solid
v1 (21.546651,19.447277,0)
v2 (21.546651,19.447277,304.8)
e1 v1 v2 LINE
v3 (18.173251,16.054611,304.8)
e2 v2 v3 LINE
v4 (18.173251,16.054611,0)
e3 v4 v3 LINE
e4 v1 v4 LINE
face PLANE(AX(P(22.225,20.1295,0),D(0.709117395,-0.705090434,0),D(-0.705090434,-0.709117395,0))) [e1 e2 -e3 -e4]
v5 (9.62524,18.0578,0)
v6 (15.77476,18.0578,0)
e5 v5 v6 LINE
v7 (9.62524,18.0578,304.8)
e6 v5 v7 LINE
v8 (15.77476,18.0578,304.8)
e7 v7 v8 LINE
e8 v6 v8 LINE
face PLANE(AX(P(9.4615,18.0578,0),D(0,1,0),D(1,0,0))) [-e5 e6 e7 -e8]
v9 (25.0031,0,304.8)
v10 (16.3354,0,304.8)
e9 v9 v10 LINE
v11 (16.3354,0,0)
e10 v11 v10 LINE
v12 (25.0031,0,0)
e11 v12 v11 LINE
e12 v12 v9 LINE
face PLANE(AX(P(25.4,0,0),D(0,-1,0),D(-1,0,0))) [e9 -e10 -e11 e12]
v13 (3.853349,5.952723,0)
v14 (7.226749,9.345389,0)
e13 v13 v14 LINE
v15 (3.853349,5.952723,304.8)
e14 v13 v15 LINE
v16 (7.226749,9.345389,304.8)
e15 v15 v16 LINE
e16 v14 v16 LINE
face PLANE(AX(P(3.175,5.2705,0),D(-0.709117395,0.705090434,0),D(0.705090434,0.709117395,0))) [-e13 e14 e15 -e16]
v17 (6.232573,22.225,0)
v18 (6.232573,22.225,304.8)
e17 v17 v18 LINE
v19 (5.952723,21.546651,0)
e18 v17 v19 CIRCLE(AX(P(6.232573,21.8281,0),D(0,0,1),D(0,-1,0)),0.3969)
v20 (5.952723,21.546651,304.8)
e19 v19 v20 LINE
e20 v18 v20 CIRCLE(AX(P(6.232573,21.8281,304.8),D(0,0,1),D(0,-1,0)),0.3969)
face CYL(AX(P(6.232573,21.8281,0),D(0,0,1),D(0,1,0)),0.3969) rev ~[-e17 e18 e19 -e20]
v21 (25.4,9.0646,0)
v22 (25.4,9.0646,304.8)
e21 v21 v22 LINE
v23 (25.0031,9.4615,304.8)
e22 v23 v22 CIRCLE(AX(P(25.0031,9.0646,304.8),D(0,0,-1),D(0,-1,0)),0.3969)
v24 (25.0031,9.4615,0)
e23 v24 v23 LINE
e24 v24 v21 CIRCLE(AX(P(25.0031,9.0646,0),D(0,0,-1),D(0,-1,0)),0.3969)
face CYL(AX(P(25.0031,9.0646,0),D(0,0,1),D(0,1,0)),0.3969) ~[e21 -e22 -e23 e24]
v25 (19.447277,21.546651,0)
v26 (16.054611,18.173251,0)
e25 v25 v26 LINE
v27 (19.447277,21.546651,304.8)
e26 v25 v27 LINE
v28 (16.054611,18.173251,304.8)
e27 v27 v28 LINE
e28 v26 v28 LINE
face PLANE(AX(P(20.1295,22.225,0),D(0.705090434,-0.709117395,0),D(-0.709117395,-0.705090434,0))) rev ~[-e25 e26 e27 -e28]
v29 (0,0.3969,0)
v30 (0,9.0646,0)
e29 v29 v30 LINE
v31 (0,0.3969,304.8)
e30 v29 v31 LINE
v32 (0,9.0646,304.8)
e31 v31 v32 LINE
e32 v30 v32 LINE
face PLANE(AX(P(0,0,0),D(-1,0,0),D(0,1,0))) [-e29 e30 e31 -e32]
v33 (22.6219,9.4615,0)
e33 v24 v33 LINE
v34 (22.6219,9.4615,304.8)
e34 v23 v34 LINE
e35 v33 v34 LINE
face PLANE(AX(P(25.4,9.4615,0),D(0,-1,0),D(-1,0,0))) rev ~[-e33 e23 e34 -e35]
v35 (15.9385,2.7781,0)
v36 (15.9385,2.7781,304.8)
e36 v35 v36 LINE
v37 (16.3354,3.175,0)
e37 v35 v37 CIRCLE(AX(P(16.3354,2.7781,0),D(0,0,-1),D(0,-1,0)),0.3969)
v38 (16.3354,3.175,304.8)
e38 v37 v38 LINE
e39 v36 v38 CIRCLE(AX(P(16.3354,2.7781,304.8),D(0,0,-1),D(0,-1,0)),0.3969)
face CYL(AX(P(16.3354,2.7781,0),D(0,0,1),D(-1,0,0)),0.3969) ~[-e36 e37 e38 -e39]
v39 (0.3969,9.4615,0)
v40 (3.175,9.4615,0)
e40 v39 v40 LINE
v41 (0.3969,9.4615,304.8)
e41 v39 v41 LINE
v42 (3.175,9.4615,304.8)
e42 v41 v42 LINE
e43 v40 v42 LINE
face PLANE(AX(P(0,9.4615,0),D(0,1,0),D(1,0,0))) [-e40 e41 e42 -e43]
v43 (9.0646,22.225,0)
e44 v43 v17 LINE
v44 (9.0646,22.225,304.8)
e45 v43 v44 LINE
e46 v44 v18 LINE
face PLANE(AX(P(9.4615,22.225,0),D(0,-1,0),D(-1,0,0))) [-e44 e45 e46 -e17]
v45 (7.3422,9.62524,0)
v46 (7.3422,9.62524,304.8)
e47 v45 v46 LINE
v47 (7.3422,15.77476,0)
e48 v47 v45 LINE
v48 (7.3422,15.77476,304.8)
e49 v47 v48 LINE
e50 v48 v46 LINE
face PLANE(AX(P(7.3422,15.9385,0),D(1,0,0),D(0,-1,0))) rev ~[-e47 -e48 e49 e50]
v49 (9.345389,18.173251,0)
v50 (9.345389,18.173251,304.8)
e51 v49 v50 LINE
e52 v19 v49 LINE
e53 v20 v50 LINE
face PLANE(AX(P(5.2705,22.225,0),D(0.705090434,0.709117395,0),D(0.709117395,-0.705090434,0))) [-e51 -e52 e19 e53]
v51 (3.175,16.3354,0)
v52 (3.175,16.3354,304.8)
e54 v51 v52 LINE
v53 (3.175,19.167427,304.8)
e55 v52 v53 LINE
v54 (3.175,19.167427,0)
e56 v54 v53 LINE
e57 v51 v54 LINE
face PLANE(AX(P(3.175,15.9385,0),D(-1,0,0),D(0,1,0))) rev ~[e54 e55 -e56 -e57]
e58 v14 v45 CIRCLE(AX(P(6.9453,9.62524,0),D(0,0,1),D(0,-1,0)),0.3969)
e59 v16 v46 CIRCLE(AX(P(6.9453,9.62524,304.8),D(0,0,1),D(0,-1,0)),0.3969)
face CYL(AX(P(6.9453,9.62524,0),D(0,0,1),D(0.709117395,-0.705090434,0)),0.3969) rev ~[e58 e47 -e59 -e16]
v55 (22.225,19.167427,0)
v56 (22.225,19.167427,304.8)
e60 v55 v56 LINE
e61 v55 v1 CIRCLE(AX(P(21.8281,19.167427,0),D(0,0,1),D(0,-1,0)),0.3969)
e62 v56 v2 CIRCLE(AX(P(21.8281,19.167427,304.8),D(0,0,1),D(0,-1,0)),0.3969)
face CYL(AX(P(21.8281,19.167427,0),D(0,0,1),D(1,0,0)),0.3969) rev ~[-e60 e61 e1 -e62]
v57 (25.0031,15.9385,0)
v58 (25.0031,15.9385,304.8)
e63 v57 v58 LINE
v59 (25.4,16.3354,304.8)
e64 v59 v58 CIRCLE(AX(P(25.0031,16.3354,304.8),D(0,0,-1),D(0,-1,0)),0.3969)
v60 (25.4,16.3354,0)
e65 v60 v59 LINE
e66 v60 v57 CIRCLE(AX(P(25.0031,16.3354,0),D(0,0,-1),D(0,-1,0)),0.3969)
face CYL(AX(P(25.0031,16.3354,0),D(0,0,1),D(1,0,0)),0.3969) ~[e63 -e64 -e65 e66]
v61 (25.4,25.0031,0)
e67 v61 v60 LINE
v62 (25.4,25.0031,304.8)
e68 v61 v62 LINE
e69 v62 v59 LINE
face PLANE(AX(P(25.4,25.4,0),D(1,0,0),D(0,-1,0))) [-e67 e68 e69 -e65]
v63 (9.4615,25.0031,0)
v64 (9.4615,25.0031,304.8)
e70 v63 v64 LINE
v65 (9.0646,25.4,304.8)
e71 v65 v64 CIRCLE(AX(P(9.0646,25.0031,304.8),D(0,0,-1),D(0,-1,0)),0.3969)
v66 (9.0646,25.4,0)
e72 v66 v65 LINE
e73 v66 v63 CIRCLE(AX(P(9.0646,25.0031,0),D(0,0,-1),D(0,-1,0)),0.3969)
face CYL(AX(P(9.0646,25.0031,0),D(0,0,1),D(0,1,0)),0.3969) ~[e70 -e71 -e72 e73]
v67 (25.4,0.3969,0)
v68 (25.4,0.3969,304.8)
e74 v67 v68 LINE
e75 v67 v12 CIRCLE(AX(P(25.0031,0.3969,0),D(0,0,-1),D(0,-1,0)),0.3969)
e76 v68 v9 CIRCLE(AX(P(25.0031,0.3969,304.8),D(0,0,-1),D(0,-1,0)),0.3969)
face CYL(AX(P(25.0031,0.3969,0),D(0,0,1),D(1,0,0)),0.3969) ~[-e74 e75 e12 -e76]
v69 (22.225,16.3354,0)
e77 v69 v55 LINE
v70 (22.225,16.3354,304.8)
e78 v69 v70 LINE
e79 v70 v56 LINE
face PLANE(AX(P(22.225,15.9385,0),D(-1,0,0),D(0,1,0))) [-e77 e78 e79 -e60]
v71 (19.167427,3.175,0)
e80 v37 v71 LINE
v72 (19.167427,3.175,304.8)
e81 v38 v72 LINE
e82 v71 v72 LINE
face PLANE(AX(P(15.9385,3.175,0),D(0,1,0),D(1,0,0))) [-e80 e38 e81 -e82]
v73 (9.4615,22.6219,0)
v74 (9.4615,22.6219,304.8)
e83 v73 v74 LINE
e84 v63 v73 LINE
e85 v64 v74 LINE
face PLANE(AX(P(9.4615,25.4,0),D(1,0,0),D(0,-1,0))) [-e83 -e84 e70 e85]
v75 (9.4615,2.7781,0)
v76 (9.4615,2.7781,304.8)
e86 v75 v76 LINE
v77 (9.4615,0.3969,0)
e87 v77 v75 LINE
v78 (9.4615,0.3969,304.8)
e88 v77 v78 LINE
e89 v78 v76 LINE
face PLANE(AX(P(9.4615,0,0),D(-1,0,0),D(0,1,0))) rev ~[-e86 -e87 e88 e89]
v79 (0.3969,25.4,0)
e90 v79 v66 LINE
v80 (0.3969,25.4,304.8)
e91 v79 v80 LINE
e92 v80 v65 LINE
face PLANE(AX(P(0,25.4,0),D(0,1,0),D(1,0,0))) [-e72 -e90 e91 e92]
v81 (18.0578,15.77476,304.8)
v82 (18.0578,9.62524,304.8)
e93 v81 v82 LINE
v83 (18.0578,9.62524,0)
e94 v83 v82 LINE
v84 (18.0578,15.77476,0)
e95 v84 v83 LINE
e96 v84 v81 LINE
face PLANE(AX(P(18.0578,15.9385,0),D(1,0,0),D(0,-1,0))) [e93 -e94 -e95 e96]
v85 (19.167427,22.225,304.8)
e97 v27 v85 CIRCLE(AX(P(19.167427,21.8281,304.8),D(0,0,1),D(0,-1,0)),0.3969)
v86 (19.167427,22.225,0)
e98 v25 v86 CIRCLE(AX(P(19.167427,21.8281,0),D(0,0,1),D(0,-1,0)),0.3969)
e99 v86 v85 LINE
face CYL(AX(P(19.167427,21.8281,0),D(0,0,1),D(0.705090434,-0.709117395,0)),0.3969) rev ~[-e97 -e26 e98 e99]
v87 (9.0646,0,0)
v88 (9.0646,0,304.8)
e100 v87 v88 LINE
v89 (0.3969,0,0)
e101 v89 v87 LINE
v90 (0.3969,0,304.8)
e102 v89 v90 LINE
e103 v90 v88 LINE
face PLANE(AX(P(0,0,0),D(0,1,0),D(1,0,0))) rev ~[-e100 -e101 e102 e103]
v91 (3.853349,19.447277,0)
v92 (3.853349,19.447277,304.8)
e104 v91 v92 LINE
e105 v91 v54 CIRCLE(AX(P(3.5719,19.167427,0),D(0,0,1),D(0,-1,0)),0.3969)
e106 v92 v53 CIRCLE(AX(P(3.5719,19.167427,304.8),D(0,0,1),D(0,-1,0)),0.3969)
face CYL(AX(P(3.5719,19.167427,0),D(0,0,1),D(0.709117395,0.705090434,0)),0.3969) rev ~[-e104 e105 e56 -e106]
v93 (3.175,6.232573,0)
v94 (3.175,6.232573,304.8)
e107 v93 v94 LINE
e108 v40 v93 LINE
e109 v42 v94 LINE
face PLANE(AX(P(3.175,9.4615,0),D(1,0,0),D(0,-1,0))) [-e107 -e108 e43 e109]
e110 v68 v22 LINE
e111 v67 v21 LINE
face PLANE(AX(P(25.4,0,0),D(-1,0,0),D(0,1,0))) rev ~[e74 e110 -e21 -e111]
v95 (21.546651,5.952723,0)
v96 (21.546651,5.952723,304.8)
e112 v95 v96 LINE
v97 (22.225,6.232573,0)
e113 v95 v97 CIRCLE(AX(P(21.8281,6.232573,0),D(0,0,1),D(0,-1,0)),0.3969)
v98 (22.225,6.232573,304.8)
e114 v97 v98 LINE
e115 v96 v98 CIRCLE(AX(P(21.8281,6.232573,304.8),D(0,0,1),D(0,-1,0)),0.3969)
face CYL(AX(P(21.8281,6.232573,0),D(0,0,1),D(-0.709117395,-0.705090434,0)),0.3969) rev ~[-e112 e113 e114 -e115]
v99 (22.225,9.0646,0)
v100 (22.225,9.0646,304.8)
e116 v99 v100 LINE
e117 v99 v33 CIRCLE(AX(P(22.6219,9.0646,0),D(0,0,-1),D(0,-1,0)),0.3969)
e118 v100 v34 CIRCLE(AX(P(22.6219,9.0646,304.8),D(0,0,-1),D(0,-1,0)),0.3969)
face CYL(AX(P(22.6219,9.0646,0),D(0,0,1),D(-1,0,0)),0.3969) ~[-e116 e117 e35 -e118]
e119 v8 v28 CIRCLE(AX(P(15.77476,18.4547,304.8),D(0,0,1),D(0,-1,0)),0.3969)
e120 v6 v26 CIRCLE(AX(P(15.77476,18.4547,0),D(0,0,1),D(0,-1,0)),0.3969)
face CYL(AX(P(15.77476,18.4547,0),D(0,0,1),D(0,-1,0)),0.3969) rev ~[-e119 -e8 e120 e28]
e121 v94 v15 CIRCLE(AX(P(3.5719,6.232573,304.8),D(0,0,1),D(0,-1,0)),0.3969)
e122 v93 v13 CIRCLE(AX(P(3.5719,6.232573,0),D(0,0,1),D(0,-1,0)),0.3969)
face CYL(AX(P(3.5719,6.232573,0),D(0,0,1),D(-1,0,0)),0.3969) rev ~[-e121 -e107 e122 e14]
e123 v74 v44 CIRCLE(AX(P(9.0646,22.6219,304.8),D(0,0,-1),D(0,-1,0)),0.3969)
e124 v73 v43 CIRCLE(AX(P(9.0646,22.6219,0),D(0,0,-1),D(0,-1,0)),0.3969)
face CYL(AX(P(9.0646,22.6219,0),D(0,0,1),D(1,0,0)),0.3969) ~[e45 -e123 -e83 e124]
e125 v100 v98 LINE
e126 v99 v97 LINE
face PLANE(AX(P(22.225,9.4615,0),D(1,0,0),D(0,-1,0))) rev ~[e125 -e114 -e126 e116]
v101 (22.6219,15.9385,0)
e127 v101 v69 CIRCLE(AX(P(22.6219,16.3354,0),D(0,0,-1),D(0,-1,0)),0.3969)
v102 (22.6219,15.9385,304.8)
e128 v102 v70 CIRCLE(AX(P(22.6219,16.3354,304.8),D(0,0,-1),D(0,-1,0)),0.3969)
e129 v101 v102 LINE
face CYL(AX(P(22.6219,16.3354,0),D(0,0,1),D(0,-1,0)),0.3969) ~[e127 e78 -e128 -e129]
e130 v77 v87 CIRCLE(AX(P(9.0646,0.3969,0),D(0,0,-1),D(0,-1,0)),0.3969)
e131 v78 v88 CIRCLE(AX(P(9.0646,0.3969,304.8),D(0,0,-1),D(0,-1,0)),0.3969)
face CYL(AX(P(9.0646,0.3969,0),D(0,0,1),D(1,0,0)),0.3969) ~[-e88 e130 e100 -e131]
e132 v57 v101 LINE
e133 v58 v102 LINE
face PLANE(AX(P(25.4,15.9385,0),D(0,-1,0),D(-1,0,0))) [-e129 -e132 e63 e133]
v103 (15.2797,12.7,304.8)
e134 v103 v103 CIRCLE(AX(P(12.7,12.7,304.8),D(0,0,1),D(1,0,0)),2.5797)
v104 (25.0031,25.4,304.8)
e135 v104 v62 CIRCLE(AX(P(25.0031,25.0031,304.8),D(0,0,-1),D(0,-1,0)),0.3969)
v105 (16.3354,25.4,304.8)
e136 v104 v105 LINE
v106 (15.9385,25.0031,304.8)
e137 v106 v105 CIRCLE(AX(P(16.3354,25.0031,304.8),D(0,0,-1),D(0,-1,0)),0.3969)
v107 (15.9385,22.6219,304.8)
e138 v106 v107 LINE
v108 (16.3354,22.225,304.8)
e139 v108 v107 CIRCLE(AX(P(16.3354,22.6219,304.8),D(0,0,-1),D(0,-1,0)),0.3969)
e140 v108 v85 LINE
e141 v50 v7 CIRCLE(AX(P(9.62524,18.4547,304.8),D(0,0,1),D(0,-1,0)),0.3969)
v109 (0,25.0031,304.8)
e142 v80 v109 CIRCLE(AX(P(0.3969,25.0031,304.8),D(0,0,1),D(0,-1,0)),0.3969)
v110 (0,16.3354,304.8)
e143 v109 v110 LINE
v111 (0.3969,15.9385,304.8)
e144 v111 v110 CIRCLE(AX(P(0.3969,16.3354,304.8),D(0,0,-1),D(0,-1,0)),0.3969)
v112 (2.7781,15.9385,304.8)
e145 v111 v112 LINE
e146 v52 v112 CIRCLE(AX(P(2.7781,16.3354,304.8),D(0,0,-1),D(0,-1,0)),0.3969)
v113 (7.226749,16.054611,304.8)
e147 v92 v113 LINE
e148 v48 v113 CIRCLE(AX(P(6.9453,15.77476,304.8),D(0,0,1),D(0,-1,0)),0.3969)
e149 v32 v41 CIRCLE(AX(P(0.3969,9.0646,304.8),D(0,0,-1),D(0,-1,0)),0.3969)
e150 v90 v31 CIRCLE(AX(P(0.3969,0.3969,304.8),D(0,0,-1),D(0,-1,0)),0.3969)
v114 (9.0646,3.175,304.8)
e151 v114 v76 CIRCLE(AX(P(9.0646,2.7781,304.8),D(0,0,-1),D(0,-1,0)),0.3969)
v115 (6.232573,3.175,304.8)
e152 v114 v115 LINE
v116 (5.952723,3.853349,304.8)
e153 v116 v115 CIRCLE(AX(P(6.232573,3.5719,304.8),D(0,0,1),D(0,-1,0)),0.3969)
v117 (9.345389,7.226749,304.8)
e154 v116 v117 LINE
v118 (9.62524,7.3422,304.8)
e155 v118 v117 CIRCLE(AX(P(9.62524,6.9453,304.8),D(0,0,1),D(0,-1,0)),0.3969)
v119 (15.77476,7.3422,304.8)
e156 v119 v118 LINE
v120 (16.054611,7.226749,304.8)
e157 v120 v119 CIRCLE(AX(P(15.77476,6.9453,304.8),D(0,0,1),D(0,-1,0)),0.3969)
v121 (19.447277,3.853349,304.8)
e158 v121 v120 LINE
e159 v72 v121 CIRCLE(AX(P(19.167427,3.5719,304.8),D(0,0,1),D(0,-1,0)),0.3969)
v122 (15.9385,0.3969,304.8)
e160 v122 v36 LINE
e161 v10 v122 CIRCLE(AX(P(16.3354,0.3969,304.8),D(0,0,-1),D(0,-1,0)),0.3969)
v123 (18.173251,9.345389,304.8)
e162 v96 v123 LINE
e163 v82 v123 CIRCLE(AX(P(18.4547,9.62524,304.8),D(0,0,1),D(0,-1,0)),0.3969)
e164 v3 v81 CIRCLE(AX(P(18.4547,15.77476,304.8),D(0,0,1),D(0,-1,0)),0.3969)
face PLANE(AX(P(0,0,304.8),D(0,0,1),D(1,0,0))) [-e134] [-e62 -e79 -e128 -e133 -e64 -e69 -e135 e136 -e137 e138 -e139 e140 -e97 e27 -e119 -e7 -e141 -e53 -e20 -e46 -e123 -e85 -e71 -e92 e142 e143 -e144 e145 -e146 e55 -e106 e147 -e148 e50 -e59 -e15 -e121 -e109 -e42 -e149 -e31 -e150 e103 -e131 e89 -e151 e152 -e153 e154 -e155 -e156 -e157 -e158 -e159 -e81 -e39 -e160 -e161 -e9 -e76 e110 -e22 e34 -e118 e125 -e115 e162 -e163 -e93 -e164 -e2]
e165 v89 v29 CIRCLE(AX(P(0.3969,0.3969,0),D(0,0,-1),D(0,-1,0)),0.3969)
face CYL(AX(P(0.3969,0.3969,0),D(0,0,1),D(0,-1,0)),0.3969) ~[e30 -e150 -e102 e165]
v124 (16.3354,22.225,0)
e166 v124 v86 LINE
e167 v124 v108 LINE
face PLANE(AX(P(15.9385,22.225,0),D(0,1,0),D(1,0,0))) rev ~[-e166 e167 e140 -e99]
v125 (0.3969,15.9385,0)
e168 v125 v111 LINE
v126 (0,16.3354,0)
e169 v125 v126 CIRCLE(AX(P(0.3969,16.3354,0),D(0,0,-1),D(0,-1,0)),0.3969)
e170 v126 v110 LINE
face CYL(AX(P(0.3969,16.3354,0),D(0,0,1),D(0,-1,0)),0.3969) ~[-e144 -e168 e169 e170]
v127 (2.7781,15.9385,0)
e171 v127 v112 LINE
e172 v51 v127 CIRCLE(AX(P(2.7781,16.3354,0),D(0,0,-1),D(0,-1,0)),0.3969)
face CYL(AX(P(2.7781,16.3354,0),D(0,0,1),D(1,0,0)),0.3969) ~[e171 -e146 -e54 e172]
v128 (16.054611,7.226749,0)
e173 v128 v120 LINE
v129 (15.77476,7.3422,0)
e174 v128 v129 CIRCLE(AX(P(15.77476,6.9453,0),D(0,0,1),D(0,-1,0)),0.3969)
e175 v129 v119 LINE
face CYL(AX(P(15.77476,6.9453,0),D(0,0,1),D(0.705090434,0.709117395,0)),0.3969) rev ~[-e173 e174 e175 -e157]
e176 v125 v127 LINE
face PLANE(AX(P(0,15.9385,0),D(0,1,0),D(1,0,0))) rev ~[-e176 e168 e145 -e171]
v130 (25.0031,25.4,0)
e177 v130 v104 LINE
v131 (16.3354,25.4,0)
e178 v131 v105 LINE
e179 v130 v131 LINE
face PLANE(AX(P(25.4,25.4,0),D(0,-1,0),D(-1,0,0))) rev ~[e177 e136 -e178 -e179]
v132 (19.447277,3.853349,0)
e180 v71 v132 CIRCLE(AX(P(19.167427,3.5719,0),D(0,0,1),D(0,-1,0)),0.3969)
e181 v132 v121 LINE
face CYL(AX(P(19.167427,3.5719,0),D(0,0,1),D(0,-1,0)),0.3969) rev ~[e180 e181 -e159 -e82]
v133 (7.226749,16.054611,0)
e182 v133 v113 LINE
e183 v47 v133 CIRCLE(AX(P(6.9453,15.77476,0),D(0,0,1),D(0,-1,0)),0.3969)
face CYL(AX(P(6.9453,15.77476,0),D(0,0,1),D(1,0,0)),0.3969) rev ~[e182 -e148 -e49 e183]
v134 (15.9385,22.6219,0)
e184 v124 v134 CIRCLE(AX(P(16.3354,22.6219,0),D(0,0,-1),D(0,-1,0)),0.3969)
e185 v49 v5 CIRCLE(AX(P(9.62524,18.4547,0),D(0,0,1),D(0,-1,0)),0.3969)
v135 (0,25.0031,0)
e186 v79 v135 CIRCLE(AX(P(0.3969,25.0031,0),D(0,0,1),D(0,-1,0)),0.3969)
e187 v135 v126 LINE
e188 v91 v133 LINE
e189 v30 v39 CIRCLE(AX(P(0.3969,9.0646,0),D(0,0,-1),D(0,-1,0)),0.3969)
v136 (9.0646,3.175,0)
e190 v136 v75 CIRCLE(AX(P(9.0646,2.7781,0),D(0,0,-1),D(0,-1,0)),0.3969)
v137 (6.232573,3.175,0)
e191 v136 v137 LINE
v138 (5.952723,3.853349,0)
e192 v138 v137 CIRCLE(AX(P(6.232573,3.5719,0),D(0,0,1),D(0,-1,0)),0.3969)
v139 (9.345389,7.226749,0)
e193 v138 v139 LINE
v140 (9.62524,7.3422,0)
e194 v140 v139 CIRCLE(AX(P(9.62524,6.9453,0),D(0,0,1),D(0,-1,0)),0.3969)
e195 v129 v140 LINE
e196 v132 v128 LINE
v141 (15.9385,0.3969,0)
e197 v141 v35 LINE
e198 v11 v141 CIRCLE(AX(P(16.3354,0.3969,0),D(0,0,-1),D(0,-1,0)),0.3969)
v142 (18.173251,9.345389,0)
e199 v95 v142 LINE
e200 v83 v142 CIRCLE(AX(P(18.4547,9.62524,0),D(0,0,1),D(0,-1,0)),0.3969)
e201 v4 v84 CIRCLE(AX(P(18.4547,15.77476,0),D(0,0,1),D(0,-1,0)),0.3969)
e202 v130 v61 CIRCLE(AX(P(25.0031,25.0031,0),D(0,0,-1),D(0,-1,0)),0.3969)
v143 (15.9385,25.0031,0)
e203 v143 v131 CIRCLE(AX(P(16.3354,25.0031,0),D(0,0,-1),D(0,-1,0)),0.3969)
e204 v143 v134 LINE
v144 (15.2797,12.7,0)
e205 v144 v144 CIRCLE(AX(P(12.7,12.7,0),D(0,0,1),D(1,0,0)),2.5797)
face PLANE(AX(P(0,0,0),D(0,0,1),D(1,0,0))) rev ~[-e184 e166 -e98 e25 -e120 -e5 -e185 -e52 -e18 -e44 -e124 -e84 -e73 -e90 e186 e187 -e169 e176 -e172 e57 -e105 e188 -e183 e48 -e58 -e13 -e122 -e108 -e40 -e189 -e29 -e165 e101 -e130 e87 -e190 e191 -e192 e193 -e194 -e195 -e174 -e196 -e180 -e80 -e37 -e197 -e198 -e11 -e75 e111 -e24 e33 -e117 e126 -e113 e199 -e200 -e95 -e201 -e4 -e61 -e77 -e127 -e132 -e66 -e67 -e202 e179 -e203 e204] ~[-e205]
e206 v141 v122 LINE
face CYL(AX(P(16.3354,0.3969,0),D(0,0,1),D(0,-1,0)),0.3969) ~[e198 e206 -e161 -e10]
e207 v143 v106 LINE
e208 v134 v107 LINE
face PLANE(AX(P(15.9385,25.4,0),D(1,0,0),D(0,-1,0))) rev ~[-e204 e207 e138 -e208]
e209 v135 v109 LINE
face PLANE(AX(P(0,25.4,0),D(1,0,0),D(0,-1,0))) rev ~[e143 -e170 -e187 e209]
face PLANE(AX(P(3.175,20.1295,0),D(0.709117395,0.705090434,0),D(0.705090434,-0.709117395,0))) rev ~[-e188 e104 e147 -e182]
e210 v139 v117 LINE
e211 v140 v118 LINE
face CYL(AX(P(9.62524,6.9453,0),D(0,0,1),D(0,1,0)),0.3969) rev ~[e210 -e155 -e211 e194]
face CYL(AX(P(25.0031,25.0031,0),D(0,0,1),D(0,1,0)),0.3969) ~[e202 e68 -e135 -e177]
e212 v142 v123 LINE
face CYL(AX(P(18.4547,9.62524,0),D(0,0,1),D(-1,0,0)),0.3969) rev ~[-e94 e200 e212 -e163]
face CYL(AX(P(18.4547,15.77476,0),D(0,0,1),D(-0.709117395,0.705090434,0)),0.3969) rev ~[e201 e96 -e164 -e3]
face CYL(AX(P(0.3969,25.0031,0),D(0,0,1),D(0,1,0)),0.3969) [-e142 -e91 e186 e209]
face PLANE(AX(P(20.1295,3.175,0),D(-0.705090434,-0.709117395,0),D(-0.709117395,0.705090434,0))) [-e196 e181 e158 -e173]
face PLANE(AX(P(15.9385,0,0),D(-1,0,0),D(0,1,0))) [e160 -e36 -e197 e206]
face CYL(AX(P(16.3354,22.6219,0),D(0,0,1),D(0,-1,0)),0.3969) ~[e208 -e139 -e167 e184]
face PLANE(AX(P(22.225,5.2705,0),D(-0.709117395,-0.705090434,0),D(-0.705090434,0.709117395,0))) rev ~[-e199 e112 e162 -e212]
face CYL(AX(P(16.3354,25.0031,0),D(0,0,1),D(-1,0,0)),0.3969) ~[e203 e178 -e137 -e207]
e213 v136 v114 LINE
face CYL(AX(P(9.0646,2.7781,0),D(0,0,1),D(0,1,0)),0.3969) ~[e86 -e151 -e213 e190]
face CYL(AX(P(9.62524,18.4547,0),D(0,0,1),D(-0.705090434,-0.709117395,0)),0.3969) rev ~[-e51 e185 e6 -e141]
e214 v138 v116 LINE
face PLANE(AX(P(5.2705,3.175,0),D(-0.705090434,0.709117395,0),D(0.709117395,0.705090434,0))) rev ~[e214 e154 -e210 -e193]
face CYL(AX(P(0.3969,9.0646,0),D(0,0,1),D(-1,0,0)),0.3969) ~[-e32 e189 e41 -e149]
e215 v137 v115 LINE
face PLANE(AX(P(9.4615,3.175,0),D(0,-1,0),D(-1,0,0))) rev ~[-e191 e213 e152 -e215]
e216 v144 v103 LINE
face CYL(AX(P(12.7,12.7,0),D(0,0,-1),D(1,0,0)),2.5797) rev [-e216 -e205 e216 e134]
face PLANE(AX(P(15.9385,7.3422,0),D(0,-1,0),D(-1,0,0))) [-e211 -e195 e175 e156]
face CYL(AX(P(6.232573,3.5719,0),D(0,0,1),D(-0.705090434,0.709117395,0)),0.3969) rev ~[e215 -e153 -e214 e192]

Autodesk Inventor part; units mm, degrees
ref_plane "YZ Plane" through (0, 0, 0) normal (1, 0, 0) x (0, 1, 0)
ref_plane "XZ Plane" through (0, 0, 0) normal (0, 1, 0) x (-1, 0, 0)
ref_plane "XY Plane" through (0, 0, 0) normal (0, 0, 1) x (1, 0, 0)
sketch "Sketch1" plane through (0, 0, 0) normal (0, 0, 1) x (1, 0, 0)
  line L0 (0, 0) -> (25.4, 0) construction
  line L1 (25.4, 0) -> (25.4, 25.4) construction
  line L2 (25.4, 25.4) -> (0, 25.4) construction
  line L3 (0, 25.4) -> (0, 0) construction
  line L4 (0, 25.4) -> (9.4615, 25.4) construction
  line L5 (9.4615, 25.4) -> (9.4615, 15.9385) construction
  line L6 (9.4615, 15.9385) -> (0, 15.9385) construction
  line L7 (0, 15.9385) -> (0, 25.4) construction
  line L8 (25.4, 25.4) -> (15.9385, 25.4) construction
  line L9 (15.9385, 25.4) -> (15.9385, 15.9385) construction
  line L10 (15.9385, 15.9385) -> (25.4, 15.9385) construction
  line L11 (25.4, 15.9385) -> (25.4, 25.4) construction
  line L12 (25.4, 0) -> (15.9385, 0) construction
  line L13 (15.9385, 0) -> (15.9385, 9.4615) construction
  line L14 (15.9385, 9.4615) -> (25.4, 9.4615) construction
  line L15 (25.4, 9.4615) -> (25.4, 0) construction
  line L16 (0, 0) -> (9.4615, 0) construction
  line L17 (9.4615, 0) -> (9.4615, 9.4615) construction
  line L18 (9.4615, 9.4615) -> (0, 9.4615) construction
  line L19 (0, 9.4615) -> (0, 0) construction
  circle A0 centre (12.7, 12.7) radius 2.5797
  line L20 (0, 25.4) -> (9.4615, 25.4)
  line L21 (9.4615, 25.4) -> (9.4615, 22.225)
  line L22 (0, 25.4) -> (0, 15.9385)
  line L23 (0, 15.9385) -> (3.175, 15.9385)
  line L24 (0, 0) -> (0, 9.4615)
  line L25 (0, 9.4615) -> (3.175, 9.4615)
  line L26 (0, 0) -> (9.4615, 0)
  line L27 (9.4615, 0) -> (9.4615, 3.175)
  line L28 (25.4, 0) -> (15.9385, 0)
  line L29 (25.4, 0) -> (25.4, 9.4615)
  line L30 (25.4, 9.4615) -> (22.225, 9.4615)
  line L31 (15.9385, 0) -> (15.9385, 3.175)
  line L32 (25.4, 25.4) -> (25.4, 15.9385)
  line L33 (25.4, 25.4) -> (15.9385, 25.4)
  line L34 (15.9385, 25.4) -> (15.9385, 22.225)
  line L35 (25.4, 15.9385) -> (22.225, 15.9385)
  line L36 (9.4615, 22.225) -> (5.2705, 22.225)
  line L37 (3.175, 15.9385) -> (3.175, 20.1295)
  line L38 (3.175, 9.4615) -> (3.175, 5.2705)
  line L39 (9.4615, 3.175) -> (5.2705, 3.175)
  line L40 (15.9385, 3.175) -> (20.1295, 3.175)
  line L41 (22.225, 9.4615) -> (22.225, 5.2705)
  line L42 (15.9385, 22.225) -> (20.1295, 22.225)
  line L43 (22.225, 15.9385) -> (22.225, 20.1295)
  line L44 (7.3422, 7.3422) -> (18.0578, 7.3422) construction
  line L45 (18.0578, 7.3422) -> (18.0578, 18.0578) construction
  line L46 (18.0578, 18.0578) -> (7.3422, 18.0578) construction
  line L47 (7.3422, 18.0578) -> (7.3422, 7.3422) construction
  line L48 (7.3422, 7.3422) -> (18.0578, 18.0578) construction
  line L49 (18.0578, 7.3422) -> (7.3422, 18.0578) construction
  line L50 (5.2705, 22.225) -> (9.4615, 18.0578)
  line L51 (3.175, 20.1295) -> (7.3422, 15.9385)
  line L52 (20.1295, 22.225) -> (15.9385, 18.0578)
  line L53 (22.225, 20.1295) -> (18.0578, 15.9385)
  line L54 (22.225, 5.2705) -> (18.0578, 9.4615)
  line L55 (20.1295, 3.175) -> (15.9385, 7.3422)
  line L56 (5.2705, 3.175) -> (9.4615, 7.3422)
  line L57 (3.175, 5.2705) -> (7.3422, 9.4615)
  line L58 (7.3422, 15.9385) -> (7.3422, 9.4615)
  line L59 (9.4615, 18.0578) -> (15.9385, 18.0578)
  line L60 (18.0578, 15.9385) -> (18.0578, 9.4615)
  line L61 (15.9385, 7.3422) -> (9.4615, 7.3422)
  dimension "d0" = 25.4
  dimension "d1" = 25.4
  dimension "d2" = 9.4615
  dimension "d3" = 9.4615
  dimension "d4" = 9.4615
  dimension "d5" = 9.4615
  dimension "d6" = 9.4615
  dimension "d7" = 9.4615
  dimension "d8" = 9.4615
  dimension "d9" = 9.4615
  dimension "d10" = 12.7
  dimension "d11" = 12.7
  dimension "d12" = 5.1594
  dimension "d13" = 3.175
  dimension "d14" = 3.175
  dimension "d15" = 3.175
  dimension "d16" = 3.175
  dimension "d17" = 3.175
  dimension "d18" = 3.175
  dimension "d19" = 3.175
  dimension "d20" = 3.175
  dimension "d21" = 4.191
  dimension "d22" = 4.191
  dimension "d23" = 4.191
  dimension "d24" = 4.191
  dimension "d25" = 4.191
  dimension "d26" = 4.191
  dimension "d27" = 4.191
  dimension "d28" = 4.191
  dimension "d29" = 10.7156
  dimension "d30" = 10.7156
extrude "Extrusion1" add sketch "Sketch1" along normal blind 304.8
fillet "Fillet1" radius 0.3969 35 edges at (9.4615, 25.4, 152.4) (9.4615, 22.225, 152.4) (5.2705, 22.225, 152.4) (9.4615, 18.0578, 152.4) (15.9385, 18.0578, 152.4) (20.1295, 22.225, 152.4) (15.9385, 22.225, 152.4) (15.9385, 25.4, 152.4) (25.4, 25.4, 152.4) (25.4, 15.9385, 152.4) (22.225, 15.9385, 152.4) (22.225, 20.1295, 152.4) (18.0578, 15.9385, 152.4) (18.0578, 9.4615, 152.4) (22.225, 5.2705, 152.4) (22.225, 9.4615, 152.4) (25.4, 9.4615, 152.4) (25.4, 0, 152.4) (15.9385, 0, 152.4) (15.9385, 3.175, 152.4) (20.1295, 3.175, 152.4) (15.9385, 7.3422, 152.4) (9.4615, 7.3422, 152.4) (5.2705, 3.175, 152.4) (9.4615, 3.175, 152.4) (9.4615, 0, 152.4) (0, 0, 152.4) (0, 9.4615, 152.4) (3.175, 5.2705, 152.4) (7.3422, 9.4615, 152.4) (7.3422, 15.9385, 152.4) (3.175, 20.1295, 152.4) (3.175, 15.9385, 152.4) (0, 15.9385, 152.4) (0, 25.4, 152.4)
properties part number "80-20 1x1"
